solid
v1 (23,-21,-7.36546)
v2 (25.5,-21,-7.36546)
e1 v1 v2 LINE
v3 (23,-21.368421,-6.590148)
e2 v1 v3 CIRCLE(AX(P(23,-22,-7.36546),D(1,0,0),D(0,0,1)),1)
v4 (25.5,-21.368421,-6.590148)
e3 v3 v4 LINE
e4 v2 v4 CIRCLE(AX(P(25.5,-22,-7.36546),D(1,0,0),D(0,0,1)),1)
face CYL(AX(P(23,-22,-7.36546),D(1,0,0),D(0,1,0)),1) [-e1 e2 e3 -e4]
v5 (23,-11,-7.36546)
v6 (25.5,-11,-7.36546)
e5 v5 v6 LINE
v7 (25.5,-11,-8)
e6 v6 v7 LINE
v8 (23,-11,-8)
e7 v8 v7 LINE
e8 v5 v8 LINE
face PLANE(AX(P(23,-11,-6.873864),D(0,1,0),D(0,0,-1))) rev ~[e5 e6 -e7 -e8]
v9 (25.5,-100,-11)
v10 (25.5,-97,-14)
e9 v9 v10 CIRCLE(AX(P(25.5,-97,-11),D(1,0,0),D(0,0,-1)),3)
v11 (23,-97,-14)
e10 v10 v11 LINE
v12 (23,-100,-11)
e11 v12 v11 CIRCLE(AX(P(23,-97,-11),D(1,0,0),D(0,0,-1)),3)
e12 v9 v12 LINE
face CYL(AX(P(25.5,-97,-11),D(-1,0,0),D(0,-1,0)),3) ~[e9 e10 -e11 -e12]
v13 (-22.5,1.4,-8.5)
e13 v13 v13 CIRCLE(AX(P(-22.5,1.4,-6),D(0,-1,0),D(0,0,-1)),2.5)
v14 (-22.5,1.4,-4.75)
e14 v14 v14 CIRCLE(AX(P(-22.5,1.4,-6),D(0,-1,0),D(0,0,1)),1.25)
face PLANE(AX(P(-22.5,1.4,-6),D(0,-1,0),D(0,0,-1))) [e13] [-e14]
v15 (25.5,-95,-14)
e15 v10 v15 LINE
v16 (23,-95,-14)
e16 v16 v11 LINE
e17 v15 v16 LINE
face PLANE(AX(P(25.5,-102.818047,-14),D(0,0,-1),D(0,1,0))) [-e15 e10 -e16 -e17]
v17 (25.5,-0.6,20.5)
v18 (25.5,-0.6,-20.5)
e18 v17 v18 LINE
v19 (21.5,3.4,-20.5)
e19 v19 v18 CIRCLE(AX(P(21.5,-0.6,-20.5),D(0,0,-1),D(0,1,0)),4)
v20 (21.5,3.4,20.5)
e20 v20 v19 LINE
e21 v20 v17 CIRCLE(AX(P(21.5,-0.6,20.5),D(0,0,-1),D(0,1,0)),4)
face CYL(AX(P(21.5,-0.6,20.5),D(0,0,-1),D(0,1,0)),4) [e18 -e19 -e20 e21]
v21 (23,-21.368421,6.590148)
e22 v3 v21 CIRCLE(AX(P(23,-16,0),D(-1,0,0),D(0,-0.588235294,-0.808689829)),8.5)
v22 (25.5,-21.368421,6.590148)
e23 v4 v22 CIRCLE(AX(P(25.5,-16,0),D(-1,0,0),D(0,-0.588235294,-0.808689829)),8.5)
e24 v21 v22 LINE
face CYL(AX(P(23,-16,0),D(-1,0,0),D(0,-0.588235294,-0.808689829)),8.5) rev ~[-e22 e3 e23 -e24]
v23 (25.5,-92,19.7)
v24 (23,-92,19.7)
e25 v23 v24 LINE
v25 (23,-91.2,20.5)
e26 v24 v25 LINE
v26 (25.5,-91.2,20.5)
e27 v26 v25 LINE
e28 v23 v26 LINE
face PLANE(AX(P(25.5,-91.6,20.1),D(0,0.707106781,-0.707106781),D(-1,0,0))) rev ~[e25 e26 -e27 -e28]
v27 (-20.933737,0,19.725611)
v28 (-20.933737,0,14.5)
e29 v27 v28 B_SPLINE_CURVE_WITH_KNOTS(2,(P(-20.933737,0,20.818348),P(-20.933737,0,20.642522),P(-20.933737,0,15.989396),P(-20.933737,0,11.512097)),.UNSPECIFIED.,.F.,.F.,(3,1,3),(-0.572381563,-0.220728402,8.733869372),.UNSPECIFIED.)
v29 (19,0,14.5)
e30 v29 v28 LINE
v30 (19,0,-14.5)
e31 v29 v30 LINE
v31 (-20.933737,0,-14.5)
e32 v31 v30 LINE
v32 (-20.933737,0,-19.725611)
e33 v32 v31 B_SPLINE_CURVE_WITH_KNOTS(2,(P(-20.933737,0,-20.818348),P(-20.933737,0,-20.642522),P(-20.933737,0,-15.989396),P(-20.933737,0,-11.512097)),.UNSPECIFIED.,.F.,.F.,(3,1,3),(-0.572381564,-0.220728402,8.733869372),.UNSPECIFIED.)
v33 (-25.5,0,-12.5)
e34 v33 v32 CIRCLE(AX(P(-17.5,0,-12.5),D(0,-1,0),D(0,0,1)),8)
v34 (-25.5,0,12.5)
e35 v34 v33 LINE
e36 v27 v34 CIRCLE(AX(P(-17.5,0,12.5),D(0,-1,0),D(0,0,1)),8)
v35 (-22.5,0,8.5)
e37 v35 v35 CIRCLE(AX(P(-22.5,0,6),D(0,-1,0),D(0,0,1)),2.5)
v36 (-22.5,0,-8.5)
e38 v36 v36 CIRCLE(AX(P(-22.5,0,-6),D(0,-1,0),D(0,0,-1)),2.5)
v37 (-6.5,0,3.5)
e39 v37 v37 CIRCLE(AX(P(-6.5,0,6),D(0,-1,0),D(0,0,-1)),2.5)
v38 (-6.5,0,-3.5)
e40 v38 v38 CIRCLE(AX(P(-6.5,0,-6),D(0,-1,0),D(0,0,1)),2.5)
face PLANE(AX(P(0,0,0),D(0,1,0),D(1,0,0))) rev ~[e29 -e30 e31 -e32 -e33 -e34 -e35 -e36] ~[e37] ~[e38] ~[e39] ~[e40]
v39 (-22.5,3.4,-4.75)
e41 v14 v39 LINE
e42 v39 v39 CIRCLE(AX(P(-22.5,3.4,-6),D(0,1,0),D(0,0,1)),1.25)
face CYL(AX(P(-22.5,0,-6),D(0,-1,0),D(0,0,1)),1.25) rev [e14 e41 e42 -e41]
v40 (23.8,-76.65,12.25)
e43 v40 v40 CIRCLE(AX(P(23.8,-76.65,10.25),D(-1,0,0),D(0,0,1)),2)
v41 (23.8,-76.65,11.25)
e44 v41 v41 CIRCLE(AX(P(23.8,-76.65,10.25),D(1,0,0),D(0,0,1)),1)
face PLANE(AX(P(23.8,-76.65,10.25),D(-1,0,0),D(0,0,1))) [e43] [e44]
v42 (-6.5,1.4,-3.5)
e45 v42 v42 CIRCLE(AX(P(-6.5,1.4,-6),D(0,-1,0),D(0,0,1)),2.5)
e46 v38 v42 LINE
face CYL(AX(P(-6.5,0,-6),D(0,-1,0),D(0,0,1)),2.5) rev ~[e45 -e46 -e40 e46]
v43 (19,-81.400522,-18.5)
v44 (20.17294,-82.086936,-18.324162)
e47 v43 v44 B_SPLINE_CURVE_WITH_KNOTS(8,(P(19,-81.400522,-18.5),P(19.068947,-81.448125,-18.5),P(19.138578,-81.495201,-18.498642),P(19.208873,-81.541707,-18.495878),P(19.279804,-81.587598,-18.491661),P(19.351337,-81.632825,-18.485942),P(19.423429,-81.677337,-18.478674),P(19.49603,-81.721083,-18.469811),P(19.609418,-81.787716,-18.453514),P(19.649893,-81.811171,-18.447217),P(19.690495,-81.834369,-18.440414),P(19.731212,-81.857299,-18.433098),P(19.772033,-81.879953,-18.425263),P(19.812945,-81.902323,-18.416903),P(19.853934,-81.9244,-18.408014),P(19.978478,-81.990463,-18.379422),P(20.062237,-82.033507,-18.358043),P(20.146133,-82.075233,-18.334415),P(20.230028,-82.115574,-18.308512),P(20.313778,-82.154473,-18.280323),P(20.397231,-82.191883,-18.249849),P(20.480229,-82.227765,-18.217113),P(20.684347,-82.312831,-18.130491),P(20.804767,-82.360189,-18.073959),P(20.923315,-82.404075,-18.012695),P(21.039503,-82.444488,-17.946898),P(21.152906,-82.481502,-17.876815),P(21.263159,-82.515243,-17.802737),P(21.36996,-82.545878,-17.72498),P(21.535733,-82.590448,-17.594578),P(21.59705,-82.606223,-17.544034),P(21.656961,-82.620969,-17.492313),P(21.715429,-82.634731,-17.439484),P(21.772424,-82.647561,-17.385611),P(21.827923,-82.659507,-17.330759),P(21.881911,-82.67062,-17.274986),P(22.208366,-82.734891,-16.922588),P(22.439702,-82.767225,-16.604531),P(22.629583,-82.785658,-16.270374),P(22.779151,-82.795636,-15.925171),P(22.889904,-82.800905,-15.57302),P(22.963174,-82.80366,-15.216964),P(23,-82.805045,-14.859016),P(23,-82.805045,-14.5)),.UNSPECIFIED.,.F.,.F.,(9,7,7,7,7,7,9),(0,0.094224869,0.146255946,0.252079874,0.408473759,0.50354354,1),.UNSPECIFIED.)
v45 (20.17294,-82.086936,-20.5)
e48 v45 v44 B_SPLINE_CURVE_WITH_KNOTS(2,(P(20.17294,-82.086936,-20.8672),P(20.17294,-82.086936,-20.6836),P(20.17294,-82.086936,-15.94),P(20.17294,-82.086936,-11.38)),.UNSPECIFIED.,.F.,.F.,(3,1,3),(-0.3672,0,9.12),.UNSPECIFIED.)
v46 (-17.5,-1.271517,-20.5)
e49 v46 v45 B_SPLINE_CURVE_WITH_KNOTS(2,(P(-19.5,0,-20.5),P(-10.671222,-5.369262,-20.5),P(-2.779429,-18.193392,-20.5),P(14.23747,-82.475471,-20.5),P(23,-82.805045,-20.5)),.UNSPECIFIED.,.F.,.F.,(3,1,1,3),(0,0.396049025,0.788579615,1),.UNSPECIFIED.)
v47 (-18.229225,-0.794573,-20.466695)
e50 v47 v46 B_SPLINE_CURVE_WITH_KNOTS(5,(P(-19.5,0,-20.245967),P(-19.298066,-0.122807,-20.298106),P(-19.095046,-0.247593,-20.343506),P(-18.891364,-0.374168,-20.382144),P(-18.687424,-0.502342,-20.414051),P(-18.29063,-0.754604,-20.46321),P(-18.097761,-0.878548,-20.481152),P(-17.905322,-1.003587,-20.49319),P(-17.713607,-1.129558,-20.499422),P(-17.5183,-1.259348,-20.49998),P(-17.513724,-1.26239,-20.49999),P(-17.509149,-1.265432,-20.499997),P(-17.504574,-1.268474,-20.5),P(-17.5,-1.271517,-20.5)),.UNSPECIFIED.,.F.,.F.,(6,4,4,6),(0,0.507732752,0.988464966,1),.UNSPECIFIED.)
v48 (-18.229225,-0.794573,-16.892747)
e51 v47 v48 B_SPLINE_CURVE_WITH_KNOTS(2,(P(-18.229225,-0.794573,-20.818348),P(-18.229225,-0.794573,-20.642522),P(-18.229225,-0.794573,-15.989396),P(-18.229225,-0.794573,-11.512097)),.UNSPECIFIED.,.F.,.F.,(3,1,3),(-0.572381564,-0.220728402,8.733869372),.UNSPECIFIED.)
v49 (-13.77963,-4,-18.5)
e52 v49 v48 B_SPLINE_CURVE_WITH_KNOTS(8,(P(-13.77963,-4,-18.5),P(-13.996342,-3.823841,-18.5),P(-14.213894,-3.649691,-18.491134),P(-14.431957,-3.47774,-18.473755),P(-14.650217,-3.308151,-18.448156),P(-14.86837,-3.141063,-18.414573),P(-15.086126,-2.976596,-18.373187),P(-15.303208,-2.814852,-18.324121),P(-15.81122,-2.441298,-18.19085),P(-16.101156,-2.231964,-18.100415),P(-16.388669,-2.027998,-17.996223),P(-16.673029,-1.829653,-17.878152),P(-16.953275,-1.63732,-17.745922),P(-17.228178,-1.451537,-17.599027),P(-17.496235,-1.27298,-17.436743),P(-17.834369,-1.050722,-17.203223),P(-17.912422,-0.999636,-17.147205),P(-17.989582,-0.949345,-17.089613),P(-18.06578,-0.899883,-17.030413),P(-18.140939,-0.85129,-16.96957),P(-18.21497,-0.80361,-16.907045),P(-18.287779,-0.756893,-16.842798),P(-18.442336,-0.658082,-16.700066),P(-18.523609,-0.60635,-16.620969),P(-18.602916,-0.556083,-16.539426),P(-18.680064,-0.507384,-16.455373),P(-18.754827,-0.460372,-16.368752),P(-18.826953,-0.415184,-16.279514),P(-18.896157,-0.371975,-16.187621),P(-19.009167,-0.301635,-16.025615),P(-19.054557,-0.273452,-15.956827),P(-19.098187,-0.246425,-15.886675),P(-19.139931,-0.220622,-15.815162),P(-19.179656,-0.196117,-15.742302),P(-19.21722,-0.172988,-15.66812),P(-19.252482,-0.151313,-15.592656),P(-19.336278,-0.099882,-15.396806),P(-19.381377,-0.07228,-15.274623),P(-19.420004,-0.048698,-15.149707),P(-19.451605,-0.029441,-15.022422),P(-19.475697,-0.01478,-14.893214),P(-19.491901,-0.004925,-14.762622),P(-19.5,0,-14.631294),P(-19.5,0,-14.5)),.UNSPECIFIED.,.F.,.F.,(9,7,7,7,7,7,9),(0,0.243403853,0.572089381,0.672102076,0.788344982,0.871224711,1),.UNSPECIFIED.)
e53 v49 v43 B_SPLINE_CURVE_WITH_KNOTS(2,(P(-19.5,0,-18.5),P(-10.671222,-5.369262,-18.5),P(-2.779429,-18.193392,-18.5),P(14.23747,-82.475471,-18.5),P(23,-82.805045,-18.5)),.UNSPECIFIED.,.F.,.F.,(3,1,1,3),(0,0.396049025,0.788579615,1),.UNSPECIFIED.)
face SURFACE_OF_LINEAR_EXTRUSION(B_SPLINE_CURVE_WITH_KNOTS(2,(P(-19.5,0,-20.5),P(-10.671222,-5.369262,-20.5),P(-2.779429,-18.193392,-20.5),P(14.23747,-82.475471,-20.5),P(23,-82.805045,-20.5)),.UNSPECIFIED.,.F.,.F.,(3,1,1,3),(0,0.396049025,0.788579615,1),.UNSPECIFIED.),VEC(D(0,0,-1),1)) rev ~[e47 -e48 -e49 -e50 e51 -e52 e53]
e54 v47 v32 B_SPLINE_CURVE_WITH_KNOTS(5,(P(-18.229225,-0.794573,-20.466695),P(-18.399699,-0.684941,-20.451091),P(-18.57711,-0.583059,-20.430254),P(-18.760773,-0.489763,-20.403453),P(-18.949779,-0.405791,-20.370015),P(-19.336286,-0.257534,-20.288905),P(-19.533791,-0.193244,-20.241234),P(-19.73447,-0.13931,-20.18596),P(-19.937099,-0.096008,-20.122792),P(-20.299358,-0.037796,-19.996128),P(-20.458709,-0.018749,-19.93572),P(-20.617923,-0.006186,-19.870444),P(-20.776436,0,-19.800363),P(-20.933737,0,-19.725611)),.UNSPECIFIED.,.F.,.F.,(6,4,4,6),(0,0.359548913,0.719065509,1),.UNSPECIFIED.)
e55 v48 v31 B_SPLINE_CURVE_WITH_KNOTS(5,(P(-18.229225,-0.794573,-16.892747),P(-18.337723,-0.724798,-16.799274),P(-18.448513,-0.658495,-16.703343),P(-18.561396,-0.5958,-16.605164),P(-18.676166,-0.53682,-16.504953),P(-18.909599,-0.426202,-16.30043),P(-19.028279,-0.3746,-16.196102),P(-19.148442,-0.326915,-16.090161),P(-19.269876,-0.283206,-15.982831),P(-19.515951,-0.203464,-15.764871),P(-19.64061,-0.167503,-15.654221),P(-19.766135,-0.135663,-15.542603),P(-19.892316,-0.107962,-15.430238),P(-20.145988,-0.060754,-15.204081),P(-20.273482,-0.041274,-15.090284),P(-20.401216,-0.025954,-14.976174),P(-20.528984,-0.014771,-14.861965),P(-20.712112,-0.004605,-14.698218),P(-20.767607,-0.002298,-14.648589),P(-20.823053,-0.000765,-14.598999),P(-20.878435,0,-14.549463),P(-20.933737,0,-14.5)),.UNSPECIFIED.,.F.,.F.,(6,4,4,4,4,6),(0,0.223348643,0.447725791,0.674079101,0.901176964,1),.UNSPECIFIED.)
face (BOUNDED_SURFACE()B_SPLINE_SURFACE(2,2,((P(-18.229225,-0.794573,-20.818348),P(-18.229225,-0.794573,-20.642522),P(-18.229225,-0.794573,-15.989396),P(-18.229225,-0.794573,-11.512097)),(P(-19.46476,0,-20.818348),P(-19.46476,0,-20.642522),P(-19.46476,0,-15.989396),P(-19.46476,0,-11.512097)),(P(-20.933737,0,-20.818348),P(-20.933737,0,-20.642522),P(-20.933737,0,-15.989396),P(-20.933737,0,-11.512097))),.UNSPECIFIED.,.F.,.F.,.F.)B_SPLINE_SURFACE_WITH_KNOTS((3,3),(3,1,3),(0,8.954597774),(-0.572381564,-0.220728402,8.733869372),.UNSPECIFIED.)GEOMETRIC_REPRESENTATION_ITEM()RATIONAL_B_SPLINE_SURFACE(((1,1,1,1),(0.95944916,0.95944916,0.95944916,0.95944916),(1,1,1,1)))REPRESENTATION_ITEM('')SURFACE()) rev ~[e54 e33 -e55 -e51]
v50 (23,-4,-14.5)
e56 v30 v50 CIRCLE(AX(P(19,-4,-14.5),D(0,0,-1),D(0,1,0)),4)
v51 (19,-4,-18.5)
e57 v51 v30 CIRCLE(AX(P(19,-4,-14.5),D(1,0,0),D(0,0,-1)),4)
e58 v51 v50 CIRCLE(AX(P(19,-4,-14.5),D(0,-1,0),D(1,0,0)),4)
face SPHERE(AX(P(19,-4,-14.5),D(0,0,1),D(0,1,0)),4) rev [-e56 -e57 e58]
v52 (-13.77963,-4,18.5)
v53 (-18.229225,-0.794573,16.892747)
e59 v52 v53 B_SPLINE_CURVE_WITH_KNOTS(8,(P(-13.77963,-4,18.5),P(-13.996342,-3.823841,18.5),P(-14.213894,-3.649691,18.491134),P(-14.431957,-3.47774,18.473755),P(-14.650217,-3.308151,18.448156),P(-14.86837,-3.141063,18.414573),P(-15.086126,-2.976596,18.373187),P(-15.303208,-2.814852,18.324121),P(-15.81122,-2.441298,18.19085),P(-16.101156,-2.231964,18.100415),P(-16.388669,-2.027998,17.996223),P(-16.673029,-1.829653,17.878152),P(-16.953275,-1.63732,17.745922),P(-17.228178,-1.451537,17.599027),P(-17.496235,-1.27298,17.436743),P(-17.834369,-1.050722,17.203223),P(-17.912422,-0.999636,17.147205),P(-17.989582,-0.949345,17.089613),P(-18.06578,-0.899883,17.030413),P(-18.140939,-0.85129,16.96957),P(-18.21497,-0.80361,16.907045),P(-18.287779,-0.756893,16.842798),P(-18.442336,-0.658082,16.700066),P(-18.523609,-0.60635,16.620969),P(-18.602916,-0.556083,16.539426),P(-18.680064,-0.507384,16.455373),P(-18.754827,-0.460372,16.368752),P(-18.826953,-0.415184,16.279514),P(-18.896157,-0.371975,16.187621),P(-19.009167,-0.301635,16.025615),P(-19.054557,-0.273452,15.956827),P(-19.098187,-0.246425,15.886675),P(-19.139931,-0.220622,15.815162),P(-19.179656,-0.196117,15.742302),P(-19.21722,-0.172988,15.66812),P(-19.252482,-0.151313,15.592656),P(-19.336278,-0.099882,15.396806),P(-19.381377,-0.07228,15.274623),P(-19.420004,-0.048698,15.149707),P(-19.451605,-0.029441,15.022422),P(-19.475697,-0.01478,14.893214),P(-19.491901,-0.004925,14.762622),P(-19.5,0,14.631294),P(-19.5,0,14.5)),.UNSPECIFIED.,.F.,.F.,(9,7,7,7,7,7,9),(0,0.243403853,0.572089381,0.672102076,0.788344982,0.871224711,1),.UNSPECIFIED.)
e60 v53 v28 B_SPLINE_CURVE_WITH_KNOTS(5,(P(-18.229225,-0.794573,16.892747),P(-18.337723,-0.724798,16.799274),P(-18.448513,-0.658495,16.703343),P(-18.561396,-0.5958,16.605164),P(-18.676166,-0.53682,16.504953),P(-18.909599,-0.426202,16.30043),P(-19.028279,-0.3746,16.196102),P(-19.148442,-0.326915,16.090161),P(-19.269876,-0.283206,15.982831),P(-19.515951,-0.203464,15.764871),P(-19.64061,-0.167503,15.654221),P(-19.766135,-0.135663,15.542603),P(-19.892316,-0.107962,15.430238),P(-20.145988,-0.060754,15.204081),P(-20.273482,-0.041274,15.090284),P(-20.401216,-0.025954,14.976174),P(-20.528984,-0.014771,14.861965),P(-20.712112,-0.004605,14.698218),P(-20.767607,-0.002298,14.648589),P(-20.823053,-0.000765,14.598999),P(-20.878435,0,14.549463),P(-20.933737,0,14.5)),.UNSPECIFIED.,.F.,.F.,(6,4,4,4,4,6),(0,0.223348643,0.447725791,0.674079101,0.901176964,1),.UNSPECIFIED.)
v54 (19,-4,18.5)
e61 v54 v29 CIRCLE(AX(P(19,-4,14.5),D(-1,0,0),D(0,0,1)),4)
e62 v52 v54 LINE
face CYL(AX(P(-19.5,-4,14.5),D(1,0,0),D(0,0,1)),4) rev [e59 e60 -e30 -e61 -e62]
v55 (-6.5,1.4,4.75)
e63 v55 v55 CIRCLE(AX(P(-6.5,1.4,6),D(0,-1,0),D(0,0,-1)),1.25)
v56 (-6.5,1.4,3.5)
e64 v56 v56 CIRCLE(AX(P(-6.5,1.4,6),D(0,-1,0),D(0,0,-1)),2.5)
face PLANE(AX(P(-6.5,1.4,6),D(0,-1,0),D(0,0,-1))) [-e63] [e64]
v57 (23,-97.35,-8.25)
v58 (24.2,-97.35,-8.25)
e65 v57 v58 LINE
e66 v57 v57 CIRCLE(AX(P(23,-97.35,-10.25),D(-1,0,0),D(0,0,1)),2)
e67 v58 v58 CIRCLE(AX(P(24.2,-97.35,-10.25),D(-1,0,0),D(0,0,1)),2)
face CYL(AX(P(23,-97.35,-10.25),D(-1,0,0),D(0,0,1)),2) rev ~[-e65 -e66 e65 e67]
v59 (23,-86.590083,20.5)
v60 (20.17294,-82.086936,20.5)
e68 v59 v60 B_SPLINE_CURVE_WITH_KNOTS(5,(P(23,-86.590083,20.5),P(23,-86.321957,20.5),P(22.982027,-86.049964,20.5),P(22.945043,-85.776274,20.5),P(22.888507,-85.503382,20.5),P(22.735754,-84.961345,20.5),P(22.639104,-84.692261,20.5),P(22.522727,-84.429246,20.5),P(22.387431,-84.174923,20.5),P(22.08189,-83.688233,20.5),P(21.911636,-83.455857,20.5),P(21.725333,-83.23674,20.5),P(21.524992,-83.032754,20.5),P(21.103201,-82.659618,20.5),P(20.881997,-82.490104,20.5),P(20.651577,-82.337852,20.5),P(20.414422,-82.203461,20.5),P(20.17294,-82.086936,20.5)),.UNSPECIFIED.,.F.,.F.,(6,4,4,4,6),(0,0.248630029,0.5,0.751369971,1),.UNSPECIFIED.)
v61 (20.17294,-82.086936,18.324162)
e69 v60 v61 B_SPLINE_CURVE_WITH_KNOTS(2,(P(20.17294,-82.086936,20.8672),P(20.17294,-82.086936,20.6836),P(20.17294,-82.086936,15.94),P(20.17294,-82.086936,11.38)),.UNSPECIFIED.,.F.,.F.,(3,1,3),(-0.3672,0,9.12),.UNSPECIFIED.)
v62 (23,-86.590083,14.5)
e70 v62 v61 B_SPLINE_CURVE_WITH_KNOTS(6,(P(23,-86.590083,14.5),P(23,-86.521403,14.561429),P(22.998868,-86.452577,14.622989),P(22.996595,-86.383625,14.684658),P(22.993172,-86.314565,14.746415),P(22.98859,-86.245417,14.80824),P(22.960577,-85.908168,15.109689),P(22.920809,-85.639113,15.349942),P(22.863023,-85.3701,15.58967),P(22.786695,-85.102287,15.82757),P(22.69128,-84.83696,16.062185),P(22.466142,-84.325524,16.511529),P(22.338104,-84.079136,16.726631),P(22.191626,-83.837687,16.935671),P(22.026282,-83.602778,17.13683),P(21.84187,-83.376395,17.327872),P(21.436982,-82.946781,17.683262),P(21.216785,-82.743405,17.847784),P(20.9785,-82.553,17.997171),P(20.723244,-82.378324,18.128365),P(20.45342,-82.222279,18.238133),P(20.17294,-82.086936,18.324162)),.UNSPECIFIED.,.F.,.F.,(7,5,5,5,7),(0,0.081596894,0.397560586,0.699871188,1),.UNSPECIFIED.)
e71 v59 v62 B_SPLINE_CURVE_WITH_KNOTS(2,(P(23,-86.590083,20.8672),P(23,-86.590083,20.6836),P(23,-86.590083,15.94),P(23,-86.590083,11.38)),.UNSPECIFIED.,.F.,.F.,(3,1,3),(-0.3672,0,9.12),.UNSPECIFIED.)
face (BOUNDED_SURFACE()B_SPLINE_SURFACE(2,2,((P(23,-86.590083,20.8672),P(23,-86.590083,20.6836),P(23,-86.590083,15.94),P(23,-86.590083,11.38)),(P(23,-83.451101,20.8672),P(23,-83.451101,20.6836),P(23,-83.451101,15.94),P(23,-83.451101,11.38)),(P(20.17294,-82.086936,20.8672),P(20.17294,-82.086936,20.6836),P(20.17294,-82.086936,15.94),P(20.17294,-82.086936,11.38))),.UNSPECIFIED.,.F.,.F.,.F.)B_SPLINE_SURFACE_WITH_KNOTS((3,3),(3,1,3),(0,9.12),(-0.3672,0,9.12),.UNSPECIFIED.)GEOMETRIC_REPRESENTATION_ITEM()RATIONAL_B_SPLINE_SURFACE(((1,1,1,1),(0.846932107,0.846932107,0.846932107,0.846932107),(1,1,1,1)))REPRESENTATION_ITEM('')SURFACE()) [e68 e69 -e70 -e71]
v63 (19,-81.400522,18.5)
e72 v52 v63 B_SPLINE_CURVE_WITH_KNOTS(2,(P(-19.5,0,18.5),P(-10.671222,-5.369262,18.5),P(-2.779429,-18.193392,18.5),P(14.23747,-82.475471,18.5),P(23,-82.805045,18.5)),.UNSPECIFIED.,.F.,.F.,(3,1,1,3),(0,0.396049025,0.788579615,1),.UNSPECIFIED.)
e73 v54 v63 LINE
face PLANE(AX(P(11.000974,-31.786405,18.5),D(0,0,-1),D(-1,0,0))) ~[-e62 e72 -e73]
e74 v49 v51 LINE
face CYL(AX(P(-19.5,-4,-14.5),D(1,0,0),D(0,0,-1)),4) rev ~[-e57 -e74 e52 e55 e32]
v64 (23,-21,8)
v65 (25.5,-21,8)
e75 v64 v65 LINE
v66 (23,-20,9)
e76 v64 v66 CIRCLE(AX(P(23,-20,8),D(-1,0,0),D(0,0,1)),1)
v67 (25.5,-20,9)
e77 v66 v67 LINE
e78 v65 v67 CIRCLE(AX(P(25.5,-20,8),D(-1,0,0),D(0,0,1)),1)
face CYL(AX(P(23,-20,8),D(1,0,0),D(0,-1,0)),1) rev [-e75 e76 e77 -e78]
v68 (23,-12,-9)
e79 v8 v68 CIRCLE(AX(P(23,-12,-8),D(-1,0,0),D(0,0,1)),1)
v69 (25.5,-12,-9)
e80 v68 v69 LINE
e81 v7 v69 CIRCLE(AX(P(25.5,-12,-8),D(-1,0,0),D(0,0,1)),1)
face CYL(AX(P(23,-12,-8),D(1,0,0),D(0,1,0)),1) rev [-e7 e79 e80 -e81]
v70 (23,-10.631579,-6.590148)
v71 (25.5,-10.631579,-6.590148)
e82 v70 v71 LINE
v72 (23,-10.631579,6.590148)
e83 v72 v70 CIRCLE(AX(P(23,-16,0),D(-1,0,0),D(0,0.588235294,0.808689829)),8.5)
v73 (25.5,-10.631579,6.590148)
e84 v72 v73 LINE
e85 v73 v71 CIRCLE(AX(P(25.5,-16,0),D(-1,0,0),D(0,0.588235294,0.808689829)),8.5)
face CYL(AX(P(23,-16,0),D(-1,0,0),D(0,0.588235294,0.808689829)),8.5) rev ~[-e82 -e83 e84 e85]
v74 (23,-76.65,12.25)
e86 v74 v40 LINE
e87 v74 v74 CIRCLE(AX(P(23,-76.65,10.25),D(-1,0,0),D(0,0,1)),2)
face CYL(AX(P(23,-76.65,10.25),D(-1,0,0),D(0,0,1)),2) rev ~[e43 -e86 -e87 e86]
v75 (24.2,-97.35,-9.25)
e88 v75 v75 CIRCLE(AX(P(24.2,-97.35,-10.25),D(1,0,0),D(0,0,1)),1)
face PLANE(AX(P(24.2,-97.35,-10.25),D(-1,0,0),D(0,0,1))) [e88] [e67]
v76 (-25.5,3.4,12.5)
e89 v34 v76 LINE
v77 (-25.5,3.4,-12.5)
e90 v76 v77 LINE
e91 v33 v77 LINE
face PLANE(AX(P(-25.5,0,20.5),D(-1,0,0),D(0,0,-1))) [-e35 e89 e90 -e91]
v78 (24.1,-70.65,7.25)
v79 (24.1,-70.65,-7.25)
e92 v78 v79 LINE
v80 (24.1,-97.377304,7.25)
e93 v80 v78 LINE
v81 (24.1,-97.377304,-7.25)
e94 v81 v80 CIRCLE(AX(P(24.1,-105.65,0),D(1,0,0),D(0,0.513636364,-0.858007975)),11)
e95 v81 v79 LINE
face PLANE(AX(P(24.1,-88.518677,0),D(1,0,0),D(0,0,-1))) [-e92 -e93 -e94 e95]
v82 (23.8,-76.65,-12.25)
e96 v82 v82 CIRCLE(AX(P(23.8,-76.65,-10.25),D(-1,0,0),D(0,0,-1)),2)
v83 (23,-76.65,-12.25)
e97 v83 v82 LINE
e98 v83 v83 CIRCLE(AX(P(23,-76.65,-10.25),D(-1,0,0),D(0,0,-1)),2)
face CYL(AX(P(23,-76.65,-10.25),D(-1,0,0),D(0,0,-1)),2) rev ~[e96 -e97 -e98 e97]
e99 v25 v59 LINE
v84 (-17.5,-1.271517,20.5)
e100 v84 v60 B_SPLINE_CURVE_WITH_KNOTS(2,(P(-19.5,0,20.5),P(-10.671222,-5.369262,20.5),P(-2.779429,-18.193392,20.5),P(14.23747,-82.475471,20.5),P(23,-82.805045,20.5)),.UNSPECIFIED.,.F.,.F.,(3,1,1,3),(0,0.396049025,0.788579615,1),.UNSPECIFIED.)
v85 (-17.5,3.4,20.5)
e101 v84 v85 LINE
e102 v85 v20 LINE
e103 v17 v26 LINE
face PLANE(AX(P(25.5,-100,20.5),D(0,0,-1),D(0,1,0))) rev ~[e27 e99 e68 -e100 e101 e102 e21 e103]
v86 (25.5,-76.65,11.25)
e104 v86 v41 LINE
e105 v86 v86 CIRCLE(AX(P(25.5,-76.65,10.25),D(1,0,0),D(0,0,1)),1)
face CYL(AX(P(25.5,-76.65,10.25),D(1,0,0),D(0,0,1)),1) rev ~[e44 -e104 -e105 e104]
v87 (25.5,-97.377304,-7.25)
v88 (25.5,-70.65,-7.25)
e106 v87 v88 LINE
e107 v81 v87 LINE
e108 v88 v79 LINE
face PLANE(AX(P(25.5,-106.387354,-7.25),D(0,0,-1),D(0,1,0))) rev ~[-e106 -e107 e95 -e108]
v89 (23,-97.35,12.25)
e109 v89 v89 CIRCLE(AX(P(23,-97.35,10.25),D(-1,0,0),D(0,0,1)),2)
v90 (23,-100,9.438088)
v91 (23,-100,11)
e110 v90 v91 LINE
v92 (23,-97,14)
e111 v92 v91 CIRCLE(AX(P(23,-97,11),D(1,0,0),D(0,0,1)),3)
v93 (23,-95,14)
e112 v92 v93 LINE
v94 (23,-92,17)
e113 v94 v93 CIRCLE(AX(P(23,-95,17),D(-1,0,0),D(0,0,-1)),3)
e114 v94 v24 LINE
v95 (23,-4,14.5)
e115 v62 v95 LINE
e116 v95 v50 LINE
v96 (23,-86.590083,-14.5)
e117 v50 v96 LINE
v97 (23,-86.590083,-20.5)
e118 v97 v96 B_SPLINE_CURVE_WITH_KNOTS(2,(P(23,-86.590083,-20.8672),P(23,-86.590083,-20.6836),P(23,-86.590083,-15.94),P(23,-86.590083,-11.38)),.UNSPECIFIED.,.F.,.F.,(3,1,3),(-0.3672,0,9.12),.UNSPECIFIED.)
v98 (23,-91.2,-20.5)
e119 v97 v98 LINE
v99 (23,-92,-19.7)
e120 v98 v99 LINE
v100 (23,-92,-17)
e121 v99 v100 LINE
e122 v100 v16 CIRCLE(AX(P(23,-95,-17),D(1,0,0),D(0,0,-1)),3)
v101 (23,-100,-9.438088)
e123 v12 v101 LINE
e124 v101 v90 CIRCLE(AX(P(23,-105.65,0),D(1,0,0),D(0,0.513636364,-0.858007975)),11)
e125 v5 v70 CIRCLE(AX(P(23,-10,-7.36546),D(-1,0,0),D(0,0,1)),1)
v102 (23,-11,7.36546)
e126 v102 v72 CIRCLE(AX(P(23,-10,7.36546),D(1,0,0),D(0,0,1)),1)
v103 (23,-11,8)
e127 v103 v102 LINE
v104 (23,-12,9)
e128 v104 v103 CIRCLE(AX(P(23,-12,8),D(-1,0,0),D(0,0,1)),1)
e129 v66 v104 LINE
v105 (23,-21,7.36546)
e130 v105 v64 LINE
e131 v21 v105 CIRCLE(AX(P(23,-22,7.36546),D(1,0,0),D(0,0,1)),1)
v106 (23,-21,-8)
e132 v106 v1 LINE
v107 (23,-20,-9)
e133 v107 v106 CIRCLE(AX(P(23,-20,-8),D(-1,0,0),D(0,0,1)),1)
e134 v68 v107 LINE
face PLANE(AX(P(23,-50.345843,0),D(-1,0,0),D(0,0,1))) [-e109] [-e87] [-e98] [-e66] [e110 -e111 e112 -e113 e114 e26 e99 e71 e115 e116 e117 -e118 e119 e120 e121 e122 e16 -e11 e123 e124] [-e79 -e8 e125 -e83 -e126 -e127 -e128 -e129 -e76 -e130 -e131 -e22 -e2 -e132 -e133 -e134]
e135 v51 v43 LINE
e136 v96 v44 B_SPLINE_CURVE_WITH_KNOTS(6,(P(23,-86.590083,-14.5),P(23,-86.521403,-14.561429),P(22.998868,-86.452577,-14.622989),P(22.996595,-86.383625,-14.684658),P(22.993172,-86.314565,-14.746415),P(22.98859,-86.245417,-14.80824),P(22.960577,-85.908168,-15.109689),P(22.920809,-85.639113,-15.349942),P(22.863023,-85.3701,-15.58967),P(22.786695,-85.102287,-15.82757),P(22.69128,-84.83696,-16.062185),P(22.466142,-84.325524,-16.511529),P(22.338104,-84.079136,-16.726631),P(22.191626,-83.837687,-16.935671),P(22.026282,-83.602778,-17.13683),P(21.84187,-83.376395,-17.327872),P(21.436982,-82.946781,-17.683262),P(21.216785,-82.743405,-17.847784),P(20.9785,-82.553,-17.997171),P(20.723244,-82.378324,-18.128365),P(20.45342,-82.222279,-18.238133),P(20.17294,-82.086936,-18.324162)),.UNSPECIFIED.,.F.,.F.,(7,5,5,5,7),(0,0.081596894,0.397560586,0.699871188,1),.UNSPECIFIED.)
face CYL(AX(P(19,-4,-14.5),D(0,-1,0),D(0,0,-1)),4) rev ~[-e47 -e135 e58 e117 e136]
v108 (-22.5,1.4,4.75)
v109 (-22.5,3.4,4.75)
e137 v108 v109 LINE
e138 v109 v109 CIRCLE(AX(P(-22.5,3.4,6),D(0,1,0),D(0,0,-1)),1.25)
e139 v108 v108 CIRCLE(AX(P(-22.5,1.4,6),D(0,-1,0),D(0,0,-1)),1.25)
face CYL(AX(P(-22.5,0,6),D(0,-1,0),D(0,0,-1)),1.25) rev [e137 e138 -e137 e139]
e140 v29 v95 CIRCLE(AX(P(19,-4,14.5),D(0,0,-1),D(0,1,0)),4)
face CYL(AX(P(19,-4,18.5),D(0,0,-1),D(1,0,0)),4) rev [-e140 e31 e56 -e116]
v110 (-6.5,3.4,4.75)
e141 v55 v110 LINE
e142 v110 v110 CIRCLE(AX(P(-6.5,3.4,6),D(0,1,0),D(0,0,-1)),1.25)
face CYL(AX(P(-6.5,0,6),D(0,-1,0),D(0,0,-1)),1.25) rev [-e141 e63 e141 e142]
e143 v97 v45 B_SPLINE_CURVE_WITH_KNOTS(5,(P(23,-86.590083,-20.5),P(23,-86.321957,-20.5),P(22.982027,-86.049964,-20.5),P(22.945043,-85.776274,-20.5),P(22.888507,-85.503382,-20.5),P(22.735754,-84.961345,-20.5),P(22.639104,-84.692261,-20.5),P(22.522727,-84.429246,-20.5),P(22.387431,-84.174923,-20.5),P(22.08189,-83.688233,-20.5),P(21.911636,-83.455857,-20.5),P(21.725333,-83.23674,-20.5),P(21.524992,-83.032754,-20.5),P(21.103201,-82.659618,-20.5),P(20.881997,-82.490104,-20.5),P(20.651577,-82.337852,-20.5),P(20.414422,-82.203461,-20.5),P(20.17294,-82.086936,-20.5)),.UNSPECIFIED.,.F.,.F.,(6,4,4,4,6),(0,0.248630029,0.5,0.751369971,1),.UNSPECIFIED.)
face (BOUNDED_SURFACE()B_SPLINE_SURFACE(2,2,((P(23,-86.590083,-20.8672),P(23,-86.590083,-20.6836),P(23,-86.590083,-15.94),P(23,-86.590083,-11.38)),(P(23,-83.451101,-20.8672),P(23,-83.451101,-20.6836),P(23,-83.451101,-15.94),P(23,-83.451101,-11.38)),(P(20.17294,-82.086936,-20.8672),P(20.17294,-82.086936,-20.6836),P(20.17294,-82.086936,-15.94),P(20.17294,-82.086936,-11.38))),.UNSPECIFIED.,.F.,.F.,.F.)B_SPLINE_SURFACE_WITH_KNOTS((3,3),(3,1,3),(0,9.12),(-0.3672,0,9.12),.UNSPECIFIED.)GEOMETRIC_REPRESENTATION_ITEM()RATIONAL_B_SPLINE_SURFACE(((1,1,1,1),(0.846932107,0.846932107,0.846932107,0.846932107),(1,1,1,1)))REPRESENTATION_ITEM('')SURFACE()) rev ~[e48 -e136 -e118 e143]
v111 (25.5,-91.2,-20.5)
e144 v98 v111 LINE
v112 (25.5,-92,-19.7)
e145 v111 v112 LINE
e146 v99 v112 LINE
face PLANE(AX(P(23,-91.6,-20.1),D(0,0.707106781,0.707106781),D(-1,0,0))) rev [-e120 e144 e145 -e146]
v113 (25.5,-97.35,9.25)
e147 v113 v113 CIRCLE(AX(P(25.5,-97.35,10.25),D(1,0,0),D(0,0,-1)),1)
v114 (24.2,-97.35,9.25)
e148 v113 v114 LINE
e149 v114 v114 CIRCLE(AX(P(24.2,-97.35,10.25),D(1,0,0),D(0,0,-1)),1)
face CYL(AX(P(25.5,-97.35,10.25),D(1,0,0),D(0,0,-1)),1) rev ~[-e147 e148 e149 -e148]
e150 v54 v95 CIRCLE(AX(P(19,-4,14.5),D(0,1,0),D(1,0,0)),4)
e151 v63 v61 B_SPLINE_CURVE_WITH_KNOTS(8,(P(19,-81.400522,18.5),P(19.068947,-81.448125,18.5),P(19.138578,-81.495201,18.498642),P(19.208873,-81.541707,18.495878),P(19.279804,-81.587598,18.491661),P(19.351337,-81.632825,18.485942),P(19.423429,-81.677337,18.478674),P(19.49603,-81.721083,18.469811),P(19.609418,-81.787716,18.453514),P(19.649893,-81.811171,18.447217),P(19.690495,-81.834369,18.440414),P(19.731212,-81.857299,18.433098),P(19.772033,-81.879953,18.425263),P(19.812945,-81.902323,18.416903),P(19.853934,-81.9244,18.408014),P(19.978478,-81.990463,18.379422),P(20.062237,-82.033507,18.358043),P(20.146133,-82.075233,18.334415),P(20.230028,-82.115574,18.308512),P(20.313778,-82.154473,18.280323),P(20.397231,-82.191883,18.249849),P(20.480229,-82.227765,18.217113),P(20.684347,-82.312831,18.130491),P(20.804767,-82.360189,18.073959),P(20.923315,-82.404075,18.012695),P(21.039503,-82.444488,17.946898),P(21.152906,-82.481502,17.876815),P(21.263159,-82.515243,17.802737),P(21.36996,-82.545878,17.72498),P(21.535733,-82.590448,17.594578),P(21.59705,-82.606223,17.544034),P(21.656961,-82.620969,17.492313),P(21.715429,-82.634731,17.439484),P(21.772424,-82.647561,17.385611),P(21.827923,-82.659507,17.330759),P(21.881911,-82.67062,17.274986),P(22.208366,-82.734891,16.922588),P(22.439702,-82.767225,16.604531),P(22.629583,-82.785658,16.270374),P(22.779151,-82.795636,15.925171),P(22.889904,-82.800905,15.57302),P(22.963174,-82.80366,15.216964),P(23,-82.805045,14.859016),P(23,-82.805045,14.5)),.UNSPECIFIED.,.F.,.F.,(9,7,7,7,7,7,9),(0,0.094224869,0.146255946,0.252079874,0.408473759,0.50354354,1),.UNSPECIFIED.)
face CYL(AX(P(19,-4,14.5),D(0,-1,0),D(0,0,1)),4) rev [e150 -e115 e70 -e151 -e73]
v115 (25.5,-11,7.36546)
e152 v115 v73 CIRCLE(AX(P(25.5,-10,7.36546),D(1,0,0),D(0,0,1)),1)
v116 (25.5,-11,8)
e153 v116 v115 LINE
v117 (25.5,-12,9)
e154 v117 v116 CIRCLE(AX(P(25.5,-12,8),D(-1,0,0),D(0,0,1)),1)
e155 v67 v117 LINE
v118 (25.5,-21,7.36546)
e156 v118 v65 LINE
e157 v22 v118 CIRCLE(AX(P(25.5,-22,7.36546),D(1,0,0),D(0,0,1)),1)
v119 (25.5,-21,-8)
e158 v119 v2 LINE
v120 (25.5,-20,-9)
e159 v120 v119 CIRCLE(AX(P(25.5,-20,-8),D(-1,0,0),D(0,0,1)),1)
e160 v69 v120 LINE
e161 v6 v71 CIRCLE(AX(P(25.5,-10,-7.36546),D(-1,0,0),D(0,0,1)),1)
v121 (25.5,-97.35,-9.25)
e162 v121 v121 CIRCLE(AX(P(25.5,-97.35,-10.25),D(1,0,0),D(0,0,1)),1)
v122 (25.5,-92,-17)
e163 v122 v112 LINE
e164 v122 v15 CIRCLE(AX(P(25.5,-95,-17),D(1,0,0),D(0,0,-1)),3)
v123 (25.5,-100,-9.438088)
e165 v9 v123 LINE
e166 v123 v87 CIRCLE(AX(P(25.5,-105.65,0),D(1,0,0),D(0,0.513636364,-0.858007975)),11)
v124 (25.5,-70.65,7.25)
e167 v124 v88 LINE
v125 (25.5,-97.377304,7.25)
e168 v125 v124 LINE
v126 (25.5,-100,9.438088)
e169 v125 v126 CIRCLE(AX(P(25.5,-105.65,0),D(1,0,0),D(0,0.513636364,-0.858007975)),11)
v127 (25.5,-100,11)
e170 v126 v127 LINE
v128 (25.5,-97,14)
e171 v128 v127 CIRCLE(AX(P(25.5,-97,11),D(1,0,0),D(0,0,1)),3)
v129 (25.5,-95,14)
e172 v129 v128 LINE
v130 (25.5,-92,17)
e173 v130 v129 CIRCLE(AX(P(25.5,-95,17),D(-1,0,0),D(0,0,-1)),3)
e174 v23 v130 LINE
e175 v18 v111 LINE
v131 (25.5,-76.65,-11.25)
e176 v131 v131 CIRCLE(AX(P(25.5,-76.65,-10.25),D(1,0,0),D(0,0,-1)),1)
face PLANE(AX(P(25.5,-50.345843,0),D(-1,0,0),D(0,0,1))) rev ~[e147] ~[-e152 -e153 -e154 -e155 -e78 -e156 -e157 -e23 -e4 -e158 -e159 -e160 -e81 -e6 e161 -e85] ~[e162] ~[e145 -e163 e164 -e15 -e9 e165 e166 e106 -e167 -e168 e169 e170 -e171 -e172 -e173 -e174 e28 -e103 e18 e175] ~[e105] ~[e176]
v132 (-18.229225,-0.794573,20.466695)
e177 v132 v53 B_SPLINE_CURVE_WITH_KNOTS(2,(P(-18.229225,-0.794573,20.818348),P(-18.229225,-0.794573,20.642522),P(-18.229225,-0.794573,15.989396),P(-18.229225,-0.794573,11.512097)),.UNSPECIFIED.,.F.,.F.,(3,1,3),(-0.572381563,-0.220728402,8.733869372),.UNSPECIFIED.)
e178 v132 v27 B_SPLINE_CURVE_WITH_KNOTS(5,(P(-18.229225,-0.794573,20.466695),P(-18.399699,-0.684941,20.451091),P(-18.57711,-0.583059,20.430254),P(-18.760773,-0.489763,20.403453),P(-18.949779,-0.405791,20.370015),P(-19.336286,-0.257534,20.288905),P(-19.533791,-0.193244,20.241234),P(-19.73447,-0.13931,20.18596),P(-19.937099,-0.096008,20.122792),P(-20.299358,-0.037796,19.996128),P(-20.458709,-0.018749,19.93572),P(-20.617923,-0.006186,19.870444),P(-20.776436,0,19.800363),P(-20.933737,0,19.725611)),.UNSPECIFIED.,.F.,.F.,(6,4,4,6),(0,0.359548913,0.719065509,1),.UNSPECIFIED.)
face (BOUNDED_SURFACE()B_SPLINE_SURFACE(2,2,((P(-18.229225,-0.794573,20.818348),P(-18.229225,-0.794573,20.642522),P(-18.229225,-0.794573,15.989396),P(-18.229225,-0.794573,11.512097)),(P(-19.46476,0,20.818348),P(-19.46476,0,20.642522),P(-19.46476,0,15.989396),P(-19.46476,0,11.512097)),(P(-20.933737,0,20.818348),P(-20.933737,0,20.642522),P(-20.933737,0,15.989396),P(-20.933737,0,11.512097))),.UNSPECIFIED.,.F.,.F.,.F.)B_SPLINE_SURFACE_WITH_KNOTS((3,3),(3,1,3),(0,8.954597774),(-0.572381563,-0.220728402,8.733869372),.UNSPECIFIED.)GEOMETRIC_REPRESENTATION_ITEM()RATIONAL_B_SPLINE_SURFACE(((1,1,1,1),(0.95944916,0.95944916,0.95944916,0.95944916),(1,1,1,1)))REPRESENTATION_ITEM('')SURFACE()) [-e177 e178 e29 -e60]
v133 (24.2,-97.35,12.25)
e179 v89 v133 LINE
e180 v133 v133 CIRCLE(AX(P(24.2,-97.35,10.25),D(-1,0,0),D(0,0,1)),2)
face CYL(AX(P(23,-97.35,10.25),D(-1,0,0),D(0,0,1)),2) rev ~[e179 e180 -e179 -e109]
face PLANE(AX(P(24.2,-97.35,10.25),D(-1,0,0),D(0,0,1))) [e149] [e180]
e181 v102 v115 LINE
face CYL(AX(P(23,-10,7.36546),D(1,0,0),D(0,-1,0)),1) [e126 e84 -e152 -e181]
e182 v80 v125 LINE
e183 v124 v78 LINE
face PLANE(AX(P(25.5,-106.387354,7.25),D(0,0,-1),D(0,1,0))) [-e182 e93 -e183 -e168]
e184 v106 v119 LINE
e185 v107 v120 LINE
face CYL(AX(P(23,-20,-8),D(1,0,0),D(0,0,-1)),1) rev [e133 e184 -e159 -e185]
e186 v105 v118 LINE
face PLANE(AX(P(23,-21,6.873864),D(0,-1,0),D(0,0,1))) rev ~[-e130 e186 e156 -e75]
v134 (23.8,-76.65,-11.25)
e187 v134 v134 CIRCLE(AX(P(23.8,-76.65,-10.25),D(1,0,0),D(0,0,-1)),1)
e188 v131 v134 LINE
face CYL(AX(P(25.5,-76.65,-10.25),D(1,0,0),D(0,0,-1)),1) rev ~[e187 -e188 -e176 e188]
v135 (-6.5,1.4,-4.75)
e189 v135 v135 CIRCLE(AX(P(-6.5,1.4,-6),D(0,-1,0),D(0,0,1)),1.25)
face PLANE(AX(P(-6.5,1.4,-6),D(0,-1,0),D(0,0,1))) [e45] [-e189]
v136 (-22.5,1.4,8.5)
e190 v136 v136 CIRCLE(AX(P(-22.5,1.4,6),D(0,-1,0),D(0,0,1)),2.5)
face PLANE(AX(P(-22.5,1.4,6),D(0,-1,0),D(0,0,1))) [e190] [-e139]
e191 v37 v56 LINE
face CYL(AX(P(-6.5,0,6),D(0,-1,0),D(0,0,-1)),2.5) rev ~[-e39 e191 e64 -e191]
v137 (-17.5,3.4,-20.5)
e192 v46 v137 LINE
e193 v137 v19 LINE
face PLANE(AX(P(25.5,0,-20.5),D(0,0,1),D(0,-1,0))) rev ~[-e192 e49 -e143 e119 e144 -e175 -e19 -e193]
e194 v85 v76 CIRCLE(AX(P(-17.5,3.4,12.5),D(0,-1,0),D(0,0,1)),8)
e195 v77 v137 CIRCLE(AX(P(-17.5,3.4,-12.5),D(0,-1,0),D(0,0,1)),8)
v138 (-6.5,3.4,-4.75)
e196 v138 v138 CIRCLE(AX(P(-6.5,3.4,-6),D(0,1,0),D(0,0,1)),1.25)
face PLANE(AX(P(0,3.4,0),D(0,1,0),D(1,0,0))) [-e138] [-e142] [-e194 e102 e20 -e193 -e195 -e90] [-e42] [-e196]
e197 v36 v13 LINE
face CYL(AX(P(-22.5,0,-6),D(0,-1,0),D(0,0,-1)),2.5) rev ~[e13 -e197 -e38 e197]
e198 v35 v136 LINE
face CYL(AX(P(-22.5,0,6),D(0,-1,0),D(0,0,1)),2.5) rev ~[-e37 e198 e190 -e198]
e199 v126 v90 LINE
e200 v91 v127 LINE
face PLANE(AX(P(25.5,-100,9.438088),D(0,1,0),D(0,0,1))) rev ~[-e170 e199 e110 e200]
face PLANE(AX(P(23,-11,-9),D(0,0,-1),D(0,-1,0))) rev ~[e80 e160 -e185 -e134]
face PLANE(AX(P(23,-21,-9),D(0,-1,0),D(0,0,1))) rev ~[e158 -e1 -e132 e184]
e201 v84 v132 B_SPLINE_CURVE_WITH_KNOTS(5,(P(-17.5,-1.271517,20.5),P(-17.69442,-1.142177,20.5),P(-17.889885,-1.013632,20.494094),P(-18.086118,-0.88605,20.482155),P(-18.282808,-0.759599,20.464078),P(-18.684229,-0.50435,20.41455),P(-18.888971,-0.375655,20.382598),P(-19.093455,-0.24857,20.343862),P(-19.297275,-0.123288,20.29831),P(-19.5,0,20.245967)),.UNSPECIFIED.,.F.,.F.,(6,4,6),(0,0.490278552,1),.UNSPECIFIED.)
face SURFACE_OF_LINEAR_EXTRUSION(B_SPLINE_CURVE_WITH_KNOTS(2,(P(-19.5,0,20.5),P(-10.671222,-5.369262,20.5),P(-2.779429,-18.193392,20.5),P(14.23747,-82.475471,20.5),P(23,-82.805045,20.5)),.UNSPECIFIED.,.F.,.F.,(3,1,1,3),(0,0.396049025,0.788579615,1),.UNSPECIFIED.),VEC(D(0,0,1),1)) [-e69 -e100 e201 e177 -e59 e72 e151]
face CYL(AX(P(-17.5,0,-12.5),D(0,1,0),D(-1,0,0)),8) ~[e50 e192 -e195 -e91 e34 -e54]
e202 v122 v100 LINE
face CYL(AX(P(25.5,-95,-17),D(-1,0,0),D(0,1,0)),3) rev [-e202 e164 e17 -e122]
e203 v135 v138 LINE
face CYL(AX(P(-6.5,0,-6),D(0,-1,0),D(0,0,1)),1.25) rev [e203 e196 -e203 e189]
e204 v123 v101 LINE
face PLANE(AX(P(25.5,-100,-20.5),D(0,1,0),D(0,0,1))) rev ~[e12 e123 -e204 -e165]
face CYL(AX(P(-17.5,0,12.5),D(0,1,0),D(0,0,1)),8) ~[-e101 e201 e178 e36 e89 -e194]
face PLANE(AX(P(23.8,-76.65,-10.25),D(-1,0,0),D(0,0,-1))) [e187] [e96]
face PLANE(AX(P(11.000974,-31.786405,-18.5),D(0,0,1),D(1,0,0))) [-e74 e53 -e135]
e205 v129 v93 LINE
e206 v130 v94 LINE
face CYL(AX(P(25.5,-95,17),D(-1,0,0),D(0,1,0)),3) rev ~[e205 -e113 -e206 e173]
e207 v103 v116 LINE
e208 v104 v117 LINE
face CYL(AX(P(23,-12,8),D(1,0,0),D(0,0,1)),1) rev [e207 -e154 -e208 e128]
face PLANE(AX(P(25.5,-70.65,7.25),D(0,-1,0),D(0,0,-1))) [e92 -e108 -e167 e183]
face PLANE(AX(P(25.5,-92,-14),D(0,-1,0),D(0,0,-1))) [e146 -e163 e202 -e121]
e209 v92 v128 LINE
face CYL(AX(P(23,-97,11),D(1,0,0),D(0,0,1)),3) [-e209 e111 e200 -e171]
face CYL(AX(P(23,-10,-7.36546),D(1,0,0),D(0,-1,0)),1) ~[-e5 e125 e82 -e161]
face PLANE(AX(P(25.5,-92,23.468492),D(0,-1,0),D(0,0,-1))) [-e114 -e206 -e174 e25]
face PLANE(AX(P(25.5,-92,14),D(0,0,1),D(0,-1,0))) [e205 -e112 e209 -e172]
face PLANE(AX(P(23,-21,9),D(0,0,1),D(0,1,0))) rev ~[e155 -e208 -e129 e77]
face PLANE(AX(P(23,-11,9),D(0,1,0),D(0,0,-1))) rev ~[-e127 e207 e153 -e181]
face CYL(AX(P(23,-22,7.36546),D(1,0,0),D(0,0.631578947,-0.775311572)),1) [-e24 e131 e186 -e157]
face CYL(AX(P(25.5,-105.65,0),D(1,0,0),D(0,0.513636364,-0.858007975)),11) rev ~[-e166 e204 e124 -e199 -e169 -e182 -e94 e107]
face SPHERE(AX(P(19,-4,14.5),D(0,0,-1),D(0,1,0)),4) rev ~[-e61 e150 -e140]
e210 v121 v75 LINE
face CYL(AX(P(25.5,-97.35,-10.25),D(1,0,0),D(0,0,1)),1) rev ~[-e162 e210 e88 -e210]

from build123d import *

# Parameters (mm, degrees)
SKETCH_1_W          = 51
SKETCH_1_H          = 41
SKETCH_1_R          = 1.25
EXTRUDE_1_DEPTH     = 3.4
SKETCH_2_R          = 1
EXTRUDE_2_DEPTH     = 2.5
SKETCH_3_W          = 14.5
SKETCH_3_H          = 35.737354226
CUT_EXTRUDE_1_DEPTH = 1.4
EXTRUDE_4_DEPTH     = 2
FILLET_1_R          = 8
FILLET_2_R          = 4
SKETCH_6_R          = 2
CUT_EXTRUDE_2_DEPTH = 1.2
CUT_EXTRUDE_3_DEPTH = 4
FILLET_3_R          = 3
SKETCH_9_R          = 2
CUT_EXTRUDE_4_DEPTH = 0.8
SKETCH_10_R         = 2.5
CUT_EXTRUDE_5_DEPTH = 1.4
CHAMFER_1_SIZE      = 0.8
FILLET_4_R          = 4
FILLET_5_R          = 5
CUT_EXTRUDE_6_DEPTH = 10
FILLET_6_R          = 1


with BuildPart() as part:
    # 草图1 → 凸台-拉伸1 (new body)
    with BuildSketch(Plane(origin=(0, 0, 0), x_dir=(1, 0, 0), z_dir=(0, 1, 0))):
        Rectangle(SKETCH_1_W, SKETCH_1_H)
        with Locations(Location((-22.5, 6, 0), (0, 0, 270))):
            Circle(SKETCH_1_R, mode=Mode.SUBTRACT)
        with Locations(Location((-22.5, -6, 0), (0, 0, 90))):
            Circle(SKETCH_1_R, mode=Mode.SUBTRACT)
        with Locations(Location((-6.5, 6, 0), (0, 0, 270))):
            Circle(SKETCH_1_R, mode=Mode.SUBTRACT)
        with Locations(Location((-6.5, -6, 0), (0, 0, 90))):
            Circle(SKETCH_1_R, mode=Mode.SUBTRACT)
    extrude(amount=EXTRUDE_1_DEPTH)

    # 草图2 → 凸台-拉伸2 (add)
    with BuildSketch(Plane(origin=(25.5, 0, 0), x_dir=(0, 0, -1), z_dir=(1, 0, 0))):
        with BuildLine():
            Line((-20.5, 0), (20.5, 0))
            Line((20.5, 0), (20.5, -100))
            Line((20.5, -100), (9.43808773, -100))
            ThreePointArc((9.43808773, -100), (0, -94.65), (-9.43808773, -100))
            Line((-9.43808773, -100), (-20.5, -100))
            Line((-20.5, -100), (-20.5, 0))
        make_face()
        with Locations((-10.25, -97.35)):
            Circle(SKETCH_2_R, mode=Mode.SUBTRACT)
        with Locations(Location((10.25, -97.35, 0), (0, 0, 180))):
            Circle(SKETCH_2_R, mode=Mode.SUBTRACT)
        with Locations((10.25, -76.65)):
            Circle(SKETCH_2_R, mode=Mode.SUBTRACT)
        with Locations(Location((-10.25, -76.65, 0), (0, 0, 180))):
            Circle(SKETCH_2_R, mode=Mode.SUBTRACT)
    extrude(amount=-EXTRUDE_2_DEPTH)

    # 草图3 → 切除-拉伸1 (cut)
    with BuildSketch(Plane(origin=(25.5, 0, 0), x_dir=(0, 0, -1), z_dir=(1, 0, 0))):
        with Locations((0, -88.518677113)):
            Rectangle(SKETCH_3_W, SKETCH_3_H)
    extrude(amount=-CUT_EXTRUDE_1_DEPTH, mode=Mode.SUBTRACT)

    # 草图5 → 凸台-拉伸4 (add)
    with BuildSketch(Plane(origin=(0, 0, -20.5), x_dir=(-1, 0, 0), z_dir=(0, 0, -1))):
        with BuildLine():
            Line((-25.5, 3.4), (19.5, 3.4))
            Line((19.5, 3.4), (19.5, 0))
            add(Edge.make_bspline(
                [(19.5, 0), (10.67122189, -5.3692624), (2.779429236, -18.193392293), (-14.23746955, -82.475470635), (-23, -82.805044976)],
                knots=[0, 0, 0, 0.396049025, 0.788579615, 1, 1, 1], degree=2))
            Line((-23, -82.805044976), (-25.5, -82.805044976))
            Line((-25.5, -82.805044976), (-25.5, 3.4))
        make_face()
    extrude_4 = extrude(amount=-EXTRUDE_4_DEPTH)

    # 镜向3: 凸台-拉伸4 across plane
    add(extrude_4.mirror(Plane.XY))

    # 圆角1
    fillet_1_edges = [part.edges().sort_by_distance(p)[0] for p in [
        (-25.5, 1.7, -20.5),
        (-25.5, 1.7, 20.5),
    ]]
    fillet(fillet_1_edges, radius=FILLET_1_R)

    # 圆角2
    fillet_2_edges = [part.edges().sort_by_distance(p)[0] for p in [
        (25.5, 3.4, 0),
        (23, 0, 0),
    ]]
    fillet(fillet_2_edges, radius=FILLET_2_R)

    # 草图6 → 切除-拉伸2 (cut)
    with BuildSketch(Plane.ZY.offset(-23)):
        with Locations((10.25, -97.35)):
            Circle(SKETCH_6_R)
        with Locations((-10.25, -97.35)):
            Circle(SKETCH_6_R)
    extrude(amount=-CUT_EXTRUDE_2_DEPTH, mode=Mode.SUBTRACT)

    # 草图8 → 切除-拉伸3 (cut)
    with BuildSketch(Plane(origin=(25.5, 0, 0), x_dir=(0, 0, -1), z_dir=(1, 0, 0))):
        Polygon((14, -102.818047241), (14, -92), (23.468492482, -92), (23.468492482, -110.008191191), (-23.468492482, -110.008191191), (-23.468492482, -92), (-14, -92), (-14, -102.818047241), align=None)
    extrude(amount=-CUT_EXTRUDE_3_DEPTH, mode=Mode.SUBTRACT)

    # 圆角3
    fillet_3_edges = [part.edges().sort_by_distance(p)[0] for p in [
        (24.25, -100, 14),
        (24.25, -100, -14),
        (24.25, -92, -14),
        (24.25, -92, 14),
    ]]
    fillet(fillet_3_edges, radius=FILLET_3_R)

    # 草图9 → 切除-拉伸4 (cut)
    with BuildSketch(Plane.ZY.offset(-23)):
        with Locations((10.25, -76.65)):
            Circle(SKETCH_9_R)
        with Locations(Location((-10.25, -76.65, 0), (0, 0, 180))):
            Circle(SKETCH_9_R)
    extrude(amount=-CUT_EXTRUDE_4_DEPTH, mode=Mode.SUBTRACT)

    # 草图10 → 切除-拉伸5 (cut)
    with BuildSketch(Plane(origin=(0, 0, 0), x_dir=(-1, 0, 0), z_dir=(0, -1, 0))):
        with Locations(Location((6.5, -6, 0), (0, 0, 90))):
            Circle(SKETCH_10_R)
        with Locations(Location((22.5, -6, 0), (0, 0, 270))):
            Circle(SKETCH_10_R)
        with Locations(Location((6.5, 6, 0), (0, 0, 270))):
            Circle(SKETCH_10_R)
        with Locations(Location((22.5, 6, 0), (0, 0, 90))):
            Circle(SKETCH_10_R)
    extrude(amount=-CUT_EXTRUDE_5_DEPTH, mode=Mode.SUBTRACT)

    # 倒角1
    chamfer_1_edges = [part.edges().sort_by_distance(p)[0] for p in [
        (24.25, -92, 20.5),
        (24.25, -92, -20.5),
    ]]
    chamfer(chamfer_1_edges, length=CHAMFER_1_SIZE)

    # 圆角4
    fillet_4_edges = [part.edges().sort_by_distance(p)[0] for p in [
        (-0.25, 0, -18.5),
        (21.828427125, -1.171572875, -18.5),
        (-0.25, 0, 18.5),
        (21.828427125, -1.171572875, 18.5),
        (23, -43.402522488, -18.5),
        (23, -43.402522488, 18.5),
    ]]
    fillet(fillet_4_edges, radius=FILLET_4_R)

    # 圆角5
    fillet_5_edges = [part.edges().sort_by_distance(p)[0] for p in [
        (23, -82.805044976, 16.5),
        (23, -82.805044976, -16.5),
        (-19.5, 0, 16.5),
        (-19.5, 0, -16.5),
    ]]
    fillet(fillet_5_edges, radius=FILLET_5_R)

    # 草图12 → 切除-拉伸6 (cut)
    with BuildSketch(Plane.ZY.offset(-23)):
        with BuildLine():
            Line((-6.873863542, -11), (-9, -11))
            Line((-9, -11), (-9, -21))
            Line((-9, -21), (-6.873863542, -21))
            ThreePointArc((-6.873863542, -21), (0, -24.5), (6.873863542, -21))
            Line((6.873863542, -21), (9, -21))
            Line((9, -21), (9, -11))
            Line((9, -11), (6.873863542, -11))
            ThreePointArc((6.873863542, -11), (0, -7.5), (-6.873863542, -11))
        make_face()
    extrude(amount=-CUT_EXTRUDE_6_DEPTH, mode=Mode.SUBTRACT)

    # 圆角6
    fillet_6_edges = [part.edges().sort_by_distance(p)[0] for p in [
        (24.25, -21, -9),
        (24.25, -11, -9),
        (24.25, -11, -6.873863542),
        (24.25, -11, 6.873863542),
        (24.25, -11, 9),
        (24.25, -21, 9),
        (24.25, -21, 6.873863542),
        (24.25, -21, -6.873863542),
    ]]
    fillet(fillet_6_edges, radius=FILLET_6_R)


solid = part.part
